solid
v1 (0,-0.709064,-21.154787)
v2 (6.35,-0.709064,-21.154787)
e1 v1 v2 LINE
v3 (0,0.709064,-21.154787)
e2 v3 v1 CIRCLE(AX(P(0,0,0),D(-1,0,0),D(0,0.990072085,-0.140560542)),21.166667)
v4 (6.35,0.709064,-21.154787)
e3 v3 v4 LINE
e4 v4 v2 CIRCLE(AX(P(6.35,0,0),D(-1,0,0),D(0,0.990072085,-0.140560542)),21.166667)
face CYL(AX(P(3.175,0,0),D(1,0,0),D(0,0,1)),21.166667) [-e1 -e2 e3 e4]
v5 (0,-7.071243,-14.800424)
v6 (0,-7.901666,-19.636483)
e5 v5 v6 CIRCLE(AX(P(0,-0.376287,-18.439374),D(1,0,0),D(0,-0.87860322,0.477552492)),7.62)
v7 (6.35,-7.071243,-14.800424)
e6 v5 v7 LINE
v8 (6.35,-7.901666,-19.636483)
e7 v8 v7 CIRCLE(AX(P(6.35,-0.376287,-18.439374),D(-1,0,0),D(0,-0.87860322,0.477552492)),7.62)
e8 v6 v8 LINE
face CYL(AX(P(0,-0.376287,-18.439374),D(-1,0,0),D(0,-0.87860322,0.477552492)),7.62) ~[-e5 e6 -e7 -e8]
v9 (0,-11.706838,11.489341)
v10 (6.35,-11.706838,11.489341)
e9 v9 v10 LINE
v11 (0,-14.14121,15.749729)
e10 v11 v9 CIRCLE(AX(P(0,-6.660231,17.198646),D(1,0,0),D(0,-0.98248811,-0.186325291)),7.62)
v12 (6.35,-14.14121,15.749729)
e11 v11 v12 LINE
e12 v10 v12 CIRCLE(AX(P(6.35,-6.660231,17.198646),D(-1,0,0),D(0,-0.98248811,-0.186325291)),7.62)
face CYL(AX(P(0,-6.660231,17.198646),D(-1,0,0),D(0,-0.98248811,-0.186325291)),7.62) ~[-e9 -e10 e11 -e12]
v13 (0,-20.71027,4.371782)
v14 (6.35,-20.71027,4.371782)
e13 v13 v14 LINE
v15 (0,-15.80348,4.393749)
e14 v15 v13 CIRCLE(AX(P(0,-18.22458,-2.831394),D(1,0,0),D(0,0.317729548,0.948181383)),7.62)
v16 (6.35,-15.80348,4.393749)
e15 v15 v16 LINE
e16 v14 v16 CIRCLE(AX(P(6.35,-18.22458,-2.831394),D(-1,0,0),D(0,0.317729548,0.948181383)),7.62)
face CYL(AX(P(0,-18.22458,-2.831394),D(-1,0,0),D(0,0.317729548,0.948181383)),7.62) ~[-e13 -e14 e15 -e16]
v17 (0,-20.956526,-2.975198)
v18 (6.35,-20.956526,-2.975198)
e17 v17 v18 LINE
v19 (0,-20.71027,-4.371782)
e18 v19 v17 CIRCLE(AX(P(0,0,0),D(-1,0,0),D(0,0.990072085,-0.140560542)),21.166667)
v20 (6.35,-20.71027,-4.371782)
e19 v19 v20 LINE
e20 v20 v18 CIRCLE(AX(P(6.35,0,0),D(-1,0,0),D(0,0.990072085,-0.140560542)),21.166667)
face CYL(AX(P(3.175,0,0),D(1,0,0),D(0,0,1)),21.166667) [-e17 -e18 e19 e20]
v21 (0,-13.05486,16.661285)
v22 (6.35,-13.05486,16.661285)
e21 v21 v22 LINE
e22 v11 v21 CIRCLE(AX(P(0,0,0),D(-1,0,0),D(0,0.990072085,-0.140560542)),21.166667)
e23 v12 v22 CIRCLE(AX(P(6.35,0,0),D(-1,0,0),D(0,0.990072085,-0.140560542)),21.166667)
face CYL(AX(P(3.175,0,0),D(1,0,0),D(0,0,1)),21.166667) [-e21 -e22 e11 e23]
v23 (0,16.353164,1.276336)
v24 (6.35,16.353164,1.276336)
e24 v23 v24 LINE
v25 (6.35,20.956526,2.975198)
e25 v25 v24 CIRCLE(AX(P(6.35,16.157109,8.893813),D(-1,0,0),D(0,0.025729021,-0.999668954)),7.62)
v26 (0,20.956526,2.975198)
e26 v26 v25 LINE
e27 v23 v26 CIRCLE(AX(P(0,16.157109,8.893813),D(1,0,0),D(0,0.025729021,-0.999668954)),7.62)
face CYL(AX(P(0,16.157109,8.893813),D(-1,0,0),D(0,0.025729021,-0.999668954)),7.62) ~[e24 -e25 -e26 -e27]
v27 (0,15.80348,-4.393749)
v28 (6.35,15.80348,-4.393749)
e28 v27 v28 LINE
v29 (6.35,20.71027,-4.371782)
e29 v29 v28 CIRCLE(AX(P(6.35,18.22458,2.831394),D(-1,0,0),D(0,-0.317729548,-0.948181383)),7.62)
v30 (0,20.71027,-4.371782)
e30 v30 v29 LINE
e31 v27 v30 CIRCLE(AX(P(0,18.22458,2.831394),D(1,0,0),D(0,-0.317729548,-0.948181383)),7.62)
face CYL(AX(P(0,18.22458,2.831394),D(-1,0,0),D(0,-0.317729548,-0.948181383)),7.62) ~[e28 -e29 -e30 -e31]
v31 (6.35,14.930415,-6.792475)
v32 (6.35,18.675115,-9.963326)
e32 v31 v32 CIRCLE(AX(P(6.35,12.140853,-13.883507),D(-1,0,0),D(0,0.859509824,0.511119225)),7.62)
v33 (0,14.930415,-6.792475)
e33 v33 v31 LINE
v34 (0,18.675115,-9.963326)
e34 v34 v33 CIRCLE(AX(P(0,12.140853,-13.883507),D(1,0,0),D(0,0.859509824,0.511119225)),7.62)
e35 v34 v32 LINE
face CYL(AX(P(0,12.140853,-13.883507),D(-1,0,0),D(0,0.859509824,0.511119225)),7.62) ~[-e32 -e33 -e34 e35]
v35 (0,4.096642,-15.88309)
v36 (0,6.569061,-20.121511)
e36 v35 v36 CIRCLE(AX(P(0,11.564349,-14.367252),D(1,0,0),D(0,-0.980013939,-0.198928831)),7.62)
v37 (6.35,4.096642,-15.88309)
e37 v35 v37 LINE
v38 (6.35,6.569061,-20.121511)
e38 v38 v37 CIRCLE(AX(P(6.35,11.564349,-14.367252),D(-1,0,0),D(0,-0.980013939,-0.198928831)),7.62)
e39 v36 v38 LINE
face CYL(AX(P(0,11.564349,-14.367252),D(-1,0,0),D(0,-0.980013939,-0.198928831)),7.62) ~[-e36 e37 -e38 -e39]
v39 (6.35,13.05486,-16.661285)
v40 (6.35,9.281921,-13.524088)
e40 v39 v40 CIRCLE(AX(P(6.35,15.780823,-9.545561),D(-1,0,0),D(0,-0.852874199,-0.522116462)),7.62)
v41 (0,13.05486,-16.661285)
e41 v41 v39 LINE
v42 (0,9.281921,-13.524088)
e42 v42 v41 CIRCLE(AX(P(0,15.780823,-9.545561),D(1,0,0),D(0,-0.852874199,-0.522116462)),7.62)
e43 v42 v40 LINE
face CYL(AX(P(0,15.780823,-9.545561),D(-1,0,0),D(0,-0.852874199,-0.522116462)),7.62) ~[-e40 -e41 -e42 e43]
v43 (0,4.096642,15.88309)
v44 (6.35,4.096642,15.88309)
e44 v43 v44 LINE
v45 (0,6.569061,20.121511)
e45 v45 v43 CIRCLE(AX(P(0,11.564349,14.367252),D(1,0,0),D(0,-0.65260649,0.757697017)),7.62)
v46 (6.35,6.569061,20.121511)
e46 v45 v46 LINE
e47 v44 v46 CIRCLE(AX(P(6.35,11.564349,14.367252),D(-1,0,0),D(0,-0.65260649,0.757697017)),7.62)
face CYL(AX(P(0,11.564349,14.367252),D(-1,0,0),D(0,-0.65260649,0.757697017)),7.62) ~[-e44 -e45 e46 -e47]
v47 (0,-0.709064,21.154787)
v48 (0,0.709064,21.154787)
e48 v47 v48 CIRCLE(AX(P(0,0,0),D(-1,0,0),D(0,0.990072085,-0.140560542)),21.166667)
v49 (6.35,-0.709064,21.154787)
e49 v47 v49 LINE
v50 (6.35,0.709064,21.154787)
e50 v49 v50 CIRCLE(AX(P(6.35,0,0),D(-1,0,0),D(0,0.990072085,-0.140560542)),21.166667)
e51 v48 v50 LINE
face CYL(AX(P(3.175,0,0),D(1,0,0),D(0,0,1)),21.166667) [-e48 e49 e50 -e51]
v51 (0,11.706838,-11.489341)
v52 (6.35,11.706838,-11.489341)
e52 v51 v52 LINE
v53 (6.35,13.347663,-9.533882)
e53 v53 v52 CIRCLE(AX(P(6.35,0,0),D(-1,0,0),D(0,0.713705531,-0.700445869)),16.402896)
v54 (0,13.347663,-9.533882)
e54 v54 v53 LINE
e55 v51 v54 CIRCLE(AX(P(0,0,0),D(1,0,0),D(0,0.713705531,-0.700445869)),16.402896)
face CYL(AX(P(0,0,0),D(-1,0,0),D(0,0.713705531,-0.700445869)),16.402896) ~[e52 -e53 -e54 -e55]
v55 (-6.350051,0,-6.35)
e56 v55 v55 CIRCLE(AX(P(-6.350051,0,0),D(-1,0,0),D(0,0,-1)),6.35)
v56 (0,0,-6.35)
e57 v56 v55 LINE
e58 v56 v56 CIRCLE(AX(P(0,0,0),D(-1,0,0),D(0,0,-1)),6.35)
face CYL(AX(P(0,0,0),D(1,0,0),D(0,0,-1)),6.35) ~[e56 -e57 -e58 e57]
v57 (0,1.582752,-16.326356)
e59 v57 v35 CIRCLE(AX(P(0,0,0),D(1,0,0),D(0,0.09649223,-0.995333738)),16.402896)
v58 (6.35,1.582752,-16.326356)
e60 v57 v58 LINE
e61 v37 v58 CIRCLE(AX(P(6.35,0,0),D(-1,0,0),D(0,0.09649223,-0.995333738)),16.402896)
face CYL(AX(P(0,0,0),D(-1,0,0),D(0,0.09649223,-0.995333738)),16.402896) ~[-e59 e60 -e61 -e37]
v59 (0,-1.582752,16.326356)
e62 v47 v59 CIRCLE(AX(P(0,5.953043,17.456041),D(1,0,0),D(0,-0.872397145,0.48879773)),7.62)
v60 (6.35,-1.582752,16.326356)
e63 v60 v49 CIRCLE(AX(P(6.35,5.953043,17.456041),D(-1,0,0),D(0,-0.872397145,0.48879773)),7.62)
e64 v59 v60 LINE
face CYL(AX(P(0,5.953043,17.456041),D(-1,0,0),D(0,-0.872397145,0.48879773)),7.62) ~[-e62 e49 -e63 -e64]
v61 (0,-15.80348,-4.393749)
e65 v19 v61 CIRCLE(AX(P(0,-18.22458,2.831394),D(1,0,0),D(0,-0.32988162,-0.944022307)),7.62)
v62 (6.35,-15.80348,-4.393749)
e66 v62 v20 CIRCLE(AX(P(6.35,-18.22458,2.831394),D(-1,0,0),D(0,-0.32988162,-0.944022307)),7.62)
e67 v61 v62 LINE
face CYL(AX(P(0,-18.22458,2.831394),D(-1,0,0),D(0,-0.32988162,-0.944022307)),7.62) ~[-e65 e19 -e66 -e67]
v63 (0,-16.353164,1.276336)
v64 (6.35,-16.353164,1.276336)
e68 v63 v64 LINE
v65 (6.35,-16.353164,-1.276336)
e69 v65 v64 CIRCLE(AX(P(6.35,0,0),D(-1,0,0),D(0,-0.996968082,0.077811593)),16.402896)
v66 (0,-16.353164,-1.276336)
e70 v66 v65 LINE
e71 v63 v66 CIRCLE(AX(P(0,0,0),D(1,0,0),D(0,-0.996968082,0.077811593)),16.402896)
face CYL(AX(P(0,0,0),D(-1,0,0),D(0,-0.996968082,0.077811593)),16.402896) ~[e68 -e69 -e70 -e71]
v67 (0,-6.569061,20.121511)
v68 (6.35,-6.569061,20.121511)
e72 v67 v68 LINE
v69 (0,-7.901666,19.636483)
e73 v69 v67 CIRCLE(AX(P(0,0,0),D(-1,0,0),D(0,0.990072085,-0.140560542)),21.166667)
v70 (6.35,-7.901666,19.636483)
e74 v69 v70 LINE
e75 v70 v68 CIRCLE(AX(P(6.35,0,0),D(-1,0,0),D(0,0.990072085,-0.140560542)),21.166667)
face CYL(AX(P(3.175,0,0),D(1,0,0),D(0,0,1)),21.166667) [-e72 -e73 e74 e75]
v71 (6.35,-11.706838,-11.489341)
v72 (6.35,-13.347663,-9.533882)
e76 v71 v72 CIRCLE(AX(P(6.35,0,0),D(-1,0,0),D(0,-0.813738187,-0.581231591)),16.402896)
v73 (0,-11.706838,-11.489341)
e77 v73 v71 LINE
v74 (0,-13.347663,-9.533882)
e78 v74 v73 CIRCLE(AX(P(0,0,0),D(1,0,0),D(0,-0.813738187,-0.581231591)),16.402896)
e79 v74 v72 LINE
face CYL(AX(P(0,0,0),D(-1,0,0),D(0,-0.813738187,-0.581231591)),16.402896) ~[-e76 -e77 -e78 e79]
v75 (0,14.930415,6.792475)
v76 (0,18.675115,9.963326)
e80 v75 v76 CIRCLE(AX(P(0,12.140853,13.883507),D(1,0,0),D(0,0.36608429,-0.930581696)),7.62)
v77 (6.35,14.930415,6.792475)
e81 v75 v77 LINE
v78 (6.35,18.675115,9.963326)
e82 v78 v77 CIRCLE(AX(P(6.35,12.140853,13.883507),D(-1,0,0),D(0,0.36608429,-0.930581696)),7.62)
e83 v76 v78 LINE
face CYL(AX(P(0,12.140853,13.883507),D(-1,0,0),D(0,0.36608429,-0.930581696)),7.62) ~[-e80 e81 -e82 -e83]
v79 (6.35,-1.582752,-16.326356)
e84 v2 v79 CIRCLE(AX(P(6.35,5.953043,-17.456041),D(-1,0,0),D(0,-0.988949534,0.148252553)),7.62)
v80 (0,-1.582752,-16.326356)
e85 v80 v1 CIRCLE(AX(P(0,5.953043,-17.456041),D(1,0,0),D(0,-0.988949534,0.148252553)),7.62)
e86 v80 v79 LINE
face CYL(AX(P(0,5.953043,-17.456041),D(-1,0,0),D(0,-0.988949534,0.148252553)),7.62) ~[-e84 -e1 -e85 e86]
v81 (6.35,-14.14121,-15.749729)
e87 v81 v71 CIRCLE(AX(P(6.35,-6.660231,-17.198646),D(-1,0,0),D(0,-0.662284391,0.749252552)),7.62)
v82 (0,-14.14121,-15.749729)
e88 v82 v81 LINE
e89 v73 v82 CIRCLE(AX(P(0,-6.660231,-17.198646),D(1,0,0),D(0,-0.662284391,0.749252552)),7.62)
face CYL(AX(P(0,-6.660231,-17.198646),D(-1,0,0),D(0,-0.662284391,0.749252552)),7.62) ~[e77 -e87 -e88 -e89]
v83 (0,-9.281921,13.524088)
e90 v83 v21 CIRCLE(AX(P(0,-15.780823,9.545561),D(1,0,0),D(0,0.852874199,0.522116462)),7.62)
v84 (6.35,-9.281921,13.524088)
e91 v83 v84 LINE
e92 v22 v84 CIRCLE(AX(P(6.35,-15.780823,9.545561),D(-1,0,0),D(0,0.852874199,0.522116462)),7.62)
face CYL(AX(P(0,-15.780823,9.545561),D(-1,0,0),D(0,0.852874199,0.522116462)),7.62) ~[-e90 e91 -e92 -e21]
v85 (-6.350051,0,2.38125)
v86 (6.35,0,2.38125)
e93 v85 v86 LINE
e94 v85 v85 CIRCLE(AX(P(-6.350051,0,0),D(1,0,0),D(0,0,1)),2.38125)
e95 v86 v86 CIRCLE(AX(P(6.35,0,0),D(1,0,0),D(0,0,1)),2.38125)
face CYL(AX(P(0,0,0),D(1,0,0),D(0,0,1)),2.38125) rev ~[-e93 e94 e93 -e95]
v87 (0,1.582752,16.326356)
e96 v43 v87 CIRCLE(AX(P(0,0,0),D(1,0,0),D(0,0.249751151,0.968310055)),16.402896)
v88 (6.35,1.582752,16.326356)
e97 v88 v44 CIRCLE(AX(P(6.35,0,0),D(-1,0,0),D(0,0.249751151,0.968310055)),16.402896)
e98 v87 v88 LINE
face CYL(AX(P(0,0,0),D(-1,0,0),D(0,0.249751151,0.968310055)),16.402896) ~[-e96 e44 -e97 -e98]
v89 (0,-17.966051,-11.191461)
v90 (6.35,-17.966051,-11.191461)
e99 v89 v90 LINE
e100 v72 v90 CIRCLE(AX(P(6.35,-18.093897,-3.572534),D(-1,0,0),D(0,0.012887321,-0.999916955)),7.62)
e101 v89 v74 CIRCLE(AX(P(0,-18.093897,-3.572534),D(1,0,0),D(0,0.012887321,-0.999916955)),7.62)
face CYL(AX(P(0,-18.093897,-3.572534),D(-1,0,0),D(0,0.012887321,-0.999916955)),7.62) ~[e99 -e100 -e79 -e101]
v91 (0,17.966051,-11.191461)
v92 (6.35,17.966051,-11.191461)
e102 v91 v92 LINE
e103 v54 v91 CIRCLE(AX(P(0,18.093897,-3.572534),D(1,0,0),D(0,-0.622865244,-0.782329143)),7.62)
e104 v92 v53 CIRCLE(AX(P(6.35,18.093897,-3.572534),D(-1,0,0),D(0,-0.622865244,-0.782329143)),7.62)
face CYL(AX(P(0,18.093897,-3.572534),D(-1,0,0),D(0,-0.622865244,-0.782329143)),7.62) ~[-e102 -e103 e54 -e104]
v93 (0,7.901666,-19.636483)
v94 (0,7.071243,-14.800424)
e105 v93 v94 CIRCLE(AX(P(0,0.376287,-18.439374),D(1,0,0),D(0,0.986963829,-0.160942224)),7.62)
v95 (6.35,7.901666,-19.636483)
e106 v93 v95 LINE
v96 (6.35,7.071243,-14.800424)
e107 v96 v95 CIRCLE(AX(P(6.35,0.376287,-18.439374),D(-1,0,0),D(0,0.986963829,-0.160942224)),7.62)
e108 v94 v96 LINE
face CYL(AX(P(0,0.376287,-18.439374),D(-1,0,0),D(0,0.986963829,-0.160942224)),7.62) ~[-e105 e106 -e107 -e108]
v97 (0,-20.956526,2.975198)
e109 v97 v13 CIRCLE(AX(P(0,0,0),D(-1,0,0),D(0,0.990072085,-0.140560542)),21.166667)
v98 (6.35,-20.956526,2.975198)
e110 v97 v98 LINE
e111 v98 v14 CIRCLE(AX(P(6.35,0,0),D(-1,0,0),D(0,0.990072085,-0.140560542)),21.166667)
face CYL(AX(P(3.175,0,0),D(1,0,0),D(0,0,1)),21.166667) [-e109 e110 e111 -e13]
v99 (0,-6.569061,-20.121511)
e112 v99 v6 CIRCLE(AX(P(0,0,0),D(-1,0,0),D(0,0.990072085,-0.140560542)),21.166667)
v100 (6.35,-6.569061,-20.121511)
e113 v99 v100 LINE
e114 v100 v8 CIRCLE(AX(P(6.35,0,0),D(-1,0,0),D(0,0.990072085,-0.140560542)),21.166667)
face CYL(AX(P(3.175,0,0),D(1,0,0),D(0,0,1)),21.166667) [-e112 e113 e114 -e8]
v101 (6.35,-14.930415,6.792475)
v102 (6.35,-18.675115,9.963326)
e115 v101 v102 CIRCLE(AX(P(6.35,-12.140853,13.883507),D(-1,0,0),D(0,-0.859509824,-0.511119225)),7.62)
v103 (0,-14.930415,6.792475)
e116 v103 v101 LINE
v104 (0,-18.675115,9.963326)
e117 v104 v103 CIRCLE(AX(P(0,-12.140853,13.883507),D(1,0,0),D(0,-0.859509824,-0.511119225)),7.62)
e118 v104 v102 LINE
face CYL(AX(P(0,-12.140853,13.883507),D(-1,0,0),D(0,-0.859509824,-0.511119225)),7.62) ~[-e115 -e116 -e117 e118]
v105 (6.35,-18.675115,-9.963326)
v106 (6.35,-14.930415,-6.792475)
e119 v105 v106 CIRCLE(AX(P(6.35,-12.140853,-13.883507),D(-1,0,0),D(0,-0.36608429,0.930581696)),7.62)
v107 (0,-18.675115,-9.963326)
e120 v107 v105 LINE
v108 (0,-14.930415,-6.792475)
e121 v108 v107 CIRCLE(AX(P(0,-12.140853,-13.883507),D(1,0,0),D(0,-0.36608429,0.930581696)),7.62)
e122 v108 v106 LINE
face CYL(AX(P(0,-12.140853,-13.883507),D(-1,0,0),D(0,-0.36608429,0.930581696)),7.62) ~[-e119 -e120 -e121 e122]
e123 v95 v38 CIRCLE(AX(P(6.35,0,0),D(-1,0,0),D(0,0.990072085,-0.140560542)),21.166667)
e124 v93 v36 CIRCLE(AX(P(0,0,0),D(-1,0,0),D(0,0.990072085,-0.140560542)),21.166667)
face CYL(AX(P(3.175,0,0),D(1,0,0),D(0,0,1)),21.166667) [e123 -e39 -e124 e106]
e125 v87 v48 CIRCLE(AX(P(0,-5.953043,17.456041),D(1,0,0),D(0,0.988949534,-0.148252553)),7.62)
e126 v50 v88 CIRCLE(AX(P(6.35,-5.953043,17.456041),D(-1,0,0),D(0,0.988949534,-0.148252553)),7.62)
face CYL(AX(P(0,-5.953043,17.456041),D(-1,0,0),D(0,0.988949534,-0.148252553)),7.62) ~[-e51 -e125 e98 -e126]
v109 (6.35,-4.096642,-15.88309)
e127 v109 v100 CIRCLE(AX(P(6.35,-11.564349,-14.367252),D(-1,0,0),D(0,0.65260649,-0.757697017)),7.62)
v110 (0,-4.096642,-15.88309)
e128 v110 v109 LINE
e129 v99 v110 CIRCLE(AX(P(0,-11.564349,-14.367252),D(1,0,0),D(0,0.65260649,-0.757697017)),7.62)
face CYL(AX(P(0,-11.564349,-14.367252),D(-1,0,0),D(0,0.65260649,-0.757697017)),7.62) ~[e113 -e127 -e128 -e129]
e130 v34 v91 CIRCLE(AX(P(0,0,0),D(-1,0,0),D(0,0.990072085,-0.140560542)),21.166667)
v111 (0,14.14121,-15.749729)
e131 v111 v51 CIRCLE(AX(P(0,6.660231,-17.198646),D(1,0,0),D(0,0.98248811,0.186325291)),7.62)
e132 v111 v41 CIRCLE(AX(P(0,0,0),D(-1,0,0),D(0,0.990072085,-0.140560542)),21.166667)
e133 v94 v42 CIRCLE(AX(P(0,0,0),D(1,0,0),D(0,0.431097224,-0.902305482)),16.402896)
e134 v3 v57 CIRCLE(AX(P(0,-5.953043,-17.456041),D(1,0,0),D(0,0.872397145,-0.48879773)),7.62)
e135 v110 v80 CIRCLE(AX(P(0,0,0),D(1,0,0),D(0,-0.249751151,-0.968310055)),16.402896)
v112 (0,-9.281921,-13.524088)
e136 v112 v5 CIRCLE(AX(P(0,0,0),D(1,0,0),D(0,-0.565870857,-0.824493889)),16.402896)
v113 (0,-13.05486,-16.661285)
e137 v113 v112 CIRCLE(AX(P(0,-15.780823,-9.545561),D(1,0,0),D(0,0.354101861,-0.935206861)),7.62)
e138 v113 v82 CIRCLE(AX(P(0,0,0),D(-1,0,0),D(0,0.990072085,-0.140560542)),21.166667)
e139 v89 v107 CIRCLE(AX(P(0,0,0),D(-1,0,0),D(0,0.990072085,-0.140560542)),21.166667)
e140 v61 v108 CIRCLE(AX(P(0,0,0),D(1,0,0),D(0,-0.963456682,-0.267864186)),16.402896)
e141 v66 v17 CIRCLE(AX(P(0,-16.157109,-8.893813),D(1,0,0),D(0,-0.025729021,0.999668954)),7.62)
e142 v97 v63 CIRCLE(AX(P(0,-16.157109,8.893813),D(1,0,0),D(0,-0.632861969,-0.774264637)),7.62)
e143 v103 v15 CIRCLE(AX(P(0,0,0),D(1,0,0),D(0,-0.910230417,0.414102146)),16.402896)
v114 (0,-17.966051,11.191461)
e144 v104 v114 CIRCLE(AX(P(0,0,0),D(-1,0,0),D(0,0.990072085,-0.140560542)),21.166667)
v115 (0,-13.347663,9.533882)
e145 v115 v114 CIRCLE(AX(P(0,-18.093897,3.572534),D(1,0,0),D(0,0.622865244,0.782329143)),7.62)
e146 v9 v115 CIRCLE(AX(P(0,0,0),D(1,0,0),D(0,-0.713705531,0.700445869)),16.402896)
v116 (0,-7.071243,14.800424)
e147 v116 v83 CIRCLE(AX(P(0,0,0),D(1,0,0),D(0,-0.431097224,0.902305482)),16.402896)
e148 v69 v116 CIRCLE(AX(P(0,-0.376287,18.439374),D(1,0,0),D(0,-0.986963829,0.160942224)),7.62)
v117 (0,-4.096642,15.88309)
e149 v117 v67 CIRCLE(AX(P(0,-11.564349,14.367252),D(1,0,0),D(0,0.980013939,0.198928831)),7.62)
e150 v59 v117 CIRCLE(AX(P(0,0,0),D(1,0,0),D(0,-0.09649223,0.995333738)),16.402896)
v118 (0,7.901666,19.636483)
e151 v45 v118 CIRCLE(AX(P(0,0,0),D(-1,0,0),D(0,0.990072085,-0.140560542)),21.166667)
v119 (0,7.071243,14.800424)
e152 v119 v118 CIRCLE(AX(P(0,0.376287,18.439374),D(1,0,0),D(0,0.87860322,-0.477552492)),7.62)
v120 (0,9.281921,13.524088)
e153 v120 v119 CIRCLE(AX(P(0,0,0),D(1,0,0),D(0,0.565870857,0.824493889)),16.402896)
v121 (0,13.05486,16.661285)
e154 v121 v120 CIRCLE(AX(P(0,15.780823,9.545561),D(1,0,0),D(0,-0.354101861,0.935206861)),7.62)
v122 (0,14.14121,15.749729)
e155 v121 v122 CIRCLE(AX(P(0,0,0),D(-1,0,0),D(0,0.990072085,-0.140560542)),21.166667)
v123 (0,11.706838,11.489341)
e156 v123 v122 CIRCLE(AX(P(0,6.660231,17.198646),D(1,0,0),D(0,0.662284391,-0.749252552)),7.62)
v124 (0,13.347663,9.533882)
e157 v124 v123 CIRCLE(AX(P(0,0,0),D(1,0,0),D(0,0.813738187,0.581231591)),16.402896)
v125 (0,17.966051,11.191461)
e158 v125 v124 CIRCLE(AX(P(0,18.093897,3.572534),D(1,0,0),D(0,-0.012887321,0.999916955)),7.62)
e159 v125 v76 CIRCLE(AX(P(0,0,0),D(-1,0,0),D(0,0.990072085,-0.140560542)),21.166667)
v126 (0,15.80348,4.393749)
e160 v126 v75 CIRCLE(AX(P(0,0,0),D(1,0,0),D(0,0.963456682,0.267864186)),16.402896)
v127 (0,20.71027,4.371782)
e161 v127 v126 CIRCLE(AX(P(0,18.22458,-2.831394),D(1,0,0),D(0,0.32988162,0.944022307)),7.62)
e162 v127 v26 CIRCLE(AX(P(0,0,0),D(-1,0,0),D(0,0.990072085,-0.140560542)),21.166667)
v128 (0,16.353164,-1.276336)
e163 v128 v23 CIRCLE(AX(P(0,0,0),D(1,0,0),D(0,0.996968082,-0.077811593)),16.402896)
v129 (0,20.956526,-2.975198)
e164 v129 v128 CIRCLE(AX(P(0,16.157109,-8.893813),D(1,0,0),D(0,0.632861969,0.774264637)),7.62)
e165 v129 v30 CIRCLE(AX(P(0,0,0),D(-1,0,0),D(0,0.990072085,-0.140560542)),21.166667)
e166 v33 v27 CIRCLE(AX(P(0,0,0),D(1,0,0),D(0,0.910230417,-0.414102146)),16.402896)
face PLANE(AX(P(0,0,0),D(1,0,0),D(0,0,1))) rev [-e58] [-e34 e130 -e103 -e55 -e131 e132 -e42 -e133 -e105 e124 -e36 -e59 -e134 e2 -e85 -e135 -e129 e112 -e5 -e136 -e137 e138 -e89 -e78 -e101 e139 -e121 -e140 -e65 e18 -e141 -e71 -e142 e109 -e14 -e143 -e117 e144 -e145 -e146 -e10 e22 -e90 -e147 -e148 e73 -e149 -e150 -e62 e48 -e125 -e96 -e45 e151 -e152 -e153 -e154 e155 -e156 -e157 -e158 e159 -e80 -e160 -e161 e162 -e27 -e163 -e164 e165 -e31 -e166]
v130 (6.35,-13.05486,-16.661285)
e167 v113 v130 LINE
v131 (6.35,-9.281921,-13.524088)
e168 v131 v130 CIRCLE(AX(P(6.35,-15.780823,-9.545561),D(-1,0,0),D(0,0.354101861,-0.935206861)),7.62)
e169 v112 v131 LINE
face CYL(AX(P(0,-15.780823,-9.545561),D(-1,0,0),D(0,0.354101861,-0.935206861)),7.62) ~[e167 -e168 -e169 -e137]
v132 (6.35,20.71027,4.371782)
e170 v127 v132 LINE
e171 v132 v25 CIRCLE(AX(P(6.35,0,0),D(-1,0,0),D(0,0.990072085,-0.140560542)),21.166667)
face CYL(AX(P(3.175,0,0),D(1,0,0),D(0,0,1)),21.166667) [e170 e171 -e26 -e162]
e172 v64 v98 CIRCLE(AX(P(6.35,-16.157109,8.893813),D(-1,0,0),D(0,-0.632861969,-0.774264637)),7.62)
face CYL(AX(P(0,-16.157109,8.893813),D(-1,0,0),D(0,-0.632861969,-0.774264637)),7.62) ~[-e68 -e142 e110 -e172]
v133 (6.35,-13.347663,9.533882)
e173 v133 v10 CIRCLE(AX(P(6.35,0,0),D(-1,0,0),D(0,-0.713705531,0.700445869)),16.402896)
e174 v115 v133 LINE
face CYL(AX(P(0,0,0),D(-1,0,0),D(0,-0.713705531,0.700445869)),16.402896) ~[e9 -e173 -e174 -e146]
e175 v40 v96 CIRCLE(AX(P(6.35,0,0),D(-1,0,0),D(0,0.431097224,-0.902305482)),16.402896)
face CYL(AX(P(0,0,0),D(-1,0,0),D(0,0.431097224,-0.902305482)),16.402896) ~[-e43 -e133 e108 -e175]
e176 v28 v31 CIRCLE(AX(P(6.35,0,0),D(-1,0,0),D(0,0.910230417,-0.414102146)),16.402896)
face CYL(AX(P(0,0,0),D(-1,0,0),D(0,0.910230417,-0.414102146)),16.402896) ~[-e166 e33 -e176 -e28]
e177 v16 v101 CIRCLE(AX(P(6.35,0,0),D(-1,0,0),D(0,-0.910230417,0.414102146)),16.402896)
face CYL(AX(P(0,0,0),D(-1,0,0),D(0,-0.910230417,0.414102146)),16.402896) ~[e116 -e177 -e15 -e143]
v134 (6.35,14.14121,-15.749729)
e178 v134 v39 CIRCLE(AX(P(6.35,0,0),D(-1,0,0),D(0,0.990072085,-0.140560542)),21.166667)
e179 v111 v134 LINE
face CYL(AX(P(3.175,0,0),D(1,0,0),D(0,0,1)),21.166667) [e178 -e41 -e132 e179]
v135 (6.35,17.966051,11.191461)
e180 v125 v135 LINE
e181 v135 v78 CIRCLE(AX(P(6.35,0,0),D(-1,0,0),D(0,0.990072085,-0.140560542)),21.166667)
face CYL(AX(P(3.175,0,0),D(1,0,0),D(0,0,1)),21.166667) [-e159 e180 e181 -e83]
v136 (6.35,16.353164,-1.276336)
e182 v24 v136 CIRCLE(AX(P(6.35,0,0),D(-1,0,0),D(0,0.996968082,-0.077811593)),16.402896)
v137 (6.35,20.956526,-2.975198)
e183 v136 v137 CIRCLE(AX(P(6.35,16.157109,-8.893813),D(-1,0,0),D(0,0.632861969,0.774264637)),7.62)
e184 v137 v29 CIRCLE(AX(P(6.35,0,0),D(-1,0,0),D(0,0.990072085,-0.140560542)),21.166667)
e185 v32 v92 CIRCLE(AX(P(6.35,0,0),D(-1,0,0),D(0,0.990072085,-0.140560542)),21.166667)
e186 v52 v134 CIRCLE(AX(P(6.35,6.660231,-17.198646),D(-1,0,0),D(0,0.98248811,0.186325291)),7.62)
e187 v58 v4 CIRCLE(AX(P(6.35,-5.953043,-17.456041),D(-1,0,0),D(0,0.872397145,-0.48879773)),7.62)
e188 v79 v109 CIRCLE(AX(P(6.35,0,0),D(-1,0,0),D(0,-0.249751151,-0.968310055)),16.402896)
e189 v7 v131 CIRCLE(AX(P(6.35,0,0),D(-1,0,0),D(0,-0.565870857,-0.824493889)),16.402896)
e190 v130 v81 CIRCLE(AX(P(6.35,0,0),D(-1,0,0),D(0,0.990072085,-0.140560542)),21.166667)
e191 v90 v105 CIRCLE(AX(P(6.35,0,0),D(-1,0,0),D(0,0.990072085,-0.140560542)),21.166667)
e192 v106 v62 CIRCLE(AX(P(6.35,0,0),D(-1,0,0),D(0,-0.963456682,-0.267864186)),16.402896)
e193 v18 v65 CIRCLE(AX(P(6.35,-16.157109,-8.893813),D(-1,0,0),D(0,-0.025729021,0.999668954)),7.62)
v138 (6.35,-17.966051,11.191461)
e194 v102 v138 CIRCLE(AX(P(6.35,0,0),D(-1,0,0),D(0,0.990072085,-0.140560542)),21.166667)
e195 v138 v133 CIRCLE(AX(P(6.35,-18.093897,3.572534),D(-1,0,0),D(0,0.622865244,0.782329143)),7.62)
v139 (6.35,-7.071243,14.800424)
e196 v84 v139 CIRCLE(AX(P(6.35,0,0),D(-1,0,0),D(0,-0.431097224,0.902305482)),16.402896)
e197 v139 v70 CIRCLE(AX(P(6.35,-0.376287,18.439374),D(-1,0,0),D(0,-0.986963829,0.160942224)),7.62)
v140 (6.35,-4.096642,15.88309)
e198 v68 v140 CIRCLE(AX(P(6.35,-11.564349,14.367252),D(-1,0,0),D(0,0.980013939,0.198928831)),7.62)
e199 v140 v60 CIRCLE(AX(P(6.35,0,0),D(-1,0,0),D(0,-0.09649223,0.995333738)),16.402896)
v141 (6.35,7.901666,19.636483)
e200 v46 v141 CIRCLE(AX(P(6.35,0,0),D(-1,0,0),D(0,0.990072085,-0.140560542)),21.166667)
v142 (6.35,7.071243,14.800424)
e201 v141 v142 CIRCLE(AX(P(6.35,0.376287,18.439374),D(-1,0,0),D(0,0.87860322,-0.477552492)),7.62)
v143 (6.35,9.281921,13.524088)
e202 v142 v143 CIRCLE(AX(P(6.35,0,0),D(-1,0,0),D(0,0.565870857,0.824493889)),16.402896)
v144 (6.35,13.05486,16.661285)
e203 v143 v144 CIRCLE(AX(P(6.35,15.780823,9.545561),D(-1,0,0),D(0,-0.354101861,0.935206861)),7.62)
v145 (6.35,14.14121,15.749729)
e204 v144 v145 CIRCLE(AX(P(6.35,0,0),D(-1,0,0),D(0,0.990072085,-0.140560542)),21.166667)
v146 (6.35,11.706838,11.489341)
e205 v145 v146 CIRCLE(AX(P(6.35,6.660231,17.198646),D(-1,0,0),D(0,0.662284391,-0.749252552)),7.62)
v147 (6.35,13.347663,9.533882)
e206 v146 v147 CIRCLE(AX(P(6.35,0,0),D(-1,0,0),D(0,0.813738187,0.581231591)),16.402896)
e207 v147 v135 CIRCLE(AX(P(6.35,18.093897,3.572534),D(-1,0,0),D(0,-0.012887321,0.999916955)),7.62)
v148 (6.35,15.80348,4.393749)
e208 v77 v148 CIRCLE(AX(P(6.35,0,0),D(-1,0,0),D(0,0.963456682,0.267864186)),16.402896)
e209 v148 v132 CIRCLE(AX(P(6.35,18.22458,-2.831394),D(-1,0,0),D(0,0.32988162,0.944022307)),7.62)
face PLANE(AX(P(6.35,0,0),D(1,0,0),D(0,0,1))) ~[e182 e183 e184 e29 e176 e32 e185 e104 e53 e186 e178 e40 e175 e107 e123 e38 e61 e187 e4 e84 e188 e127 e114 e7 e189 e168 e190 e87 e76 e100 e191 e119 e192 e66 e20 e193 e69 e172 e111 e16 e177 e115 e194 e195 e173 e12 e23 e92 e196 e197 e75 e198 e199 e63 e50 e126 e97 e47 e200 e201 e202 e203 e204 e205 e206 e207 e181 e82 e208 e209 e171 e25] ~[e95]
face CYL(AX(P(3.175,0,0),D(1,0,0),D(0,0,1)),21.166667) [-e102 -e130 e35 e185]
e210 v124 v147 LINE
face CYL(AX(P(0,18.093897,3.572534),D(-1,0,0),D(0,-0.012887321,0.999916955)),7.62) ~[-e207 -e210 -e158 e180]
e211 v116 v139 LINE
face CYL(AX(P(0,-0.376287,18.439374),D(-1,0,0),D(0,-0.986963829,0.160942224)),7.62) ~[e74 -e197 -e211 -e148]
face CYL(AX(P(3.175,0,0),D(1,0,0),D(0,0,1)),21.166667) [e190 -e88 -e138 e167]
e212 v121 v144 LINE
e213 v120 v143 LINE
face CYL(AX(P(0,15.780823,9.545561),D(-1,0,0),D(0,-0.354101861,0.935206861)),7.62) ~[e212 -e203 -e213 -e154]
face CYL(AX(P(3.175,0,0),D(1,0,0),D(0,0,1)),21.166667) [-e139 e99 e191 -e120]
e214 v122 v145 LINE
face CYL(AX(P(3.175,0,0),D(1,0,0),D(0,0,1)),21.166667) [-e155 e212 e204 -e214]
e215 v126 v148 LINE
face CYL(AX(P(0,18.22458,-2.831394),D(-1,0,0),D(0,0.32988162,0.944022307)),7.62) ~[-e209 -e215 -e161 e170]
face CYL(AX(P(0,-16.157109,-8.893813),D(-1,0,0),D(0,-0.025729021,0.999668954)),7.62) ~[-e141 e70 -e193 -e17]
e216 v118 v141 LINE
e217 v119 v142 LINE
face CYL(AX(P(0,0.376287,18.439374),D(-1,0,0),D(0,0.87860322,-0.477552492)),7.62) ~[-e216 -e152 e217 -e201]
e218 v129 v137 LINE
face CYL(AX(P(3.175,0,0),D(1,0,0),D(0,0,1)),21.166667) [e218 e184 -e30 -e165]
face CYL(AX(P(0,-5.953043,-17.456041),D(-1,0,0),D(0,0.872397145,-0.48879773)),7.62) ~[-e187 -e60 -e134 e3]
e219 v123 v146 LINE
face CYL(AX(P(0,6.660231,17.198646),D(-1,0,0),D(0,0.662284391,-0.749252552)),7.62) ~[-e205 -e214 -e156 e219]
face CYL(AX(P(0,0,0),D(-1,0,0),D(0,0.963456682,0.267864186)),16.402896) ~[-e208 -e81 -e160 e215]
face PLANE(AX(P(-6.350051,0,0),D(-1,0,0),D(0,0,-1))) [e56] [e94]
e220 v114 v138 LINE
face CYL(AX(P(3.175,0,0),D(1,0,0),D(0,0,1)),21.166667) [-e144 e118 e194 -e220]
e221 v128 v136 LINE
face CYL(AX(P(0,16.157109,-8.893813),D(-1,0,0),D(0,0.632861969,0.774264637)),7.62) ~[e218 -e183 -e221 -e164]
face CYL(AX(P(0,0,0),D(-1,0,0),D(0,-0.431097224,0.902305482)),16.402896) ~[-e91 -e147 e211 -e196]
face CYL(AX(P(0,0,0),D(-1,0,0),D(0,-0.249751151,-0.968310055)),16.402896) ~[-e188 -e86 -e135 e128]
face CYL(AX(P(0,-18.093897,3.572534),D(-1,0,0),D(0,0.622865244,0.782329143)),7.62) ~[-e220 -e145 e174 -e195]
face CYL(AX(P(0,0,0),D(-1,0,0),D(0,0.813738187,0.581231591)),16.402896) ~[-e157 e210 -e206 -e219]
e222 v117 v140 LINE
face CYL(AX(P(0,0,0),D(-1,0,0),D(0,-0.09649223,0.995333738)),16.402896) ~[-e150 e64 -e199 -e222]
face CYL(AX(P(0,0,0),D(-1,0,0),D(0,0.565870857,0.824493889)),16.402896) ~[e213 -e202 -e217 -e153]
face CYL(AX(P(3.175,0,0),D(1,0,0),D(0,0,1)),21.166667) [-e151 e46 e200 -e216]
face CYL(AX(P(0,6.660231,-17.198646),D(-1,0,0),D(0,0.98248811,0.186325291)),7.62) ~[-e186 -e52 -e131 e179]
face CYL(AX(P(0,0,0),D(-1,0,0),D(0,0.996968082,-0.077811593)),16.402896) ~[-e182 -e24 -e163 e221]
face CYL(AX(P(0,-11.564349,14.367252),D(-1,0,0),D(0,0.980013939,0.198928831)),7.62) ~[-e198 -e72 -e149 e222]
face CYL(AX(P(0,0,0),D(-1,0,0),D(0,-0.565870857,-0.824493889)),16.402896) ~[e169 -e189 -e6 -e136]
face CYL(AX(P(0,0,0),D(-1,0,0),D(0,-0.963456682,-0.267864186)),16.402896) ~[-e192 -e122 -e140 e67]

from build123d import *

# Parameters (mm, degrees)
BASPROSKE_W      = 6.35
BASPROSKE_H      = 21.166666667
TOOTHCUT_DEPTH   = 31.600295024
TEETHCUTS_COUNT  = 18
TEETHCUTS_ANGLE  = 340
HUBNEAONESKE_R   = 6.35
HUBNEARONE_DEPTH = 6.3500508
BORSKE_R         = 2.38125
BORE_DEPTH       = 12.7000508


with BuildPart() as part:
    # BasProSke → Base-Revolve (revolve)
    with BuildSketch(Plane(origin=(0, 0, 0), x_dir=(1, 0, 0), z_dir=(0, 1, 0)), mode=Mode.PRIVATE) as base_revolve_sk:
        with Locations((3.175, 10.583333334)):
            Rectangle(BASPROSKE_W, BASPROSKE_H)
    revolve(base_revolve_sk.sketch.rotate(Axis((-10, 0, 0), (1, 0, 0)), 180), axis=Axis((-10, 0, 0), (1, 0, 0)))

    # TooCutSke → ToothCut (cut, through all)
    with BuildSketch(Plane(origin=(0, 0, 0), x_dir=(0, 0, -1), z_dir=(1, 0, 0))):
        with BuildLine():
            ThreePointArc((1.276335511, 16.353164425), (0, 16.402896667), (-1.276335511, 16.353164425))
            ThreePointArc((-1.276335511, 16.353164425), (-1.750239927, 18.809233834), (-2.993916405, 20.979517491))
            ThreePointArc((-2.993916405, 20.979517491), (0, 21.192066667), (2.993916405, 20.979517491))
            ThreePointArc((2.993916405, 20.979517491), (1.750239927, 18.809233834), (1.276335511, 16.353164425))
        make_face()
    toothcut = extrude(amount=TOOTHCUT_DEPTH, mode=Mode.SUBTRACT)

    # TeethCuts: ToothCut ×18 about axis
    teethcuts_axis = Axis((-10, 0, 0), (1, 0, 0))
    for i in range(1, TEETHCUTS_COUNT):
        add(toothcut.rotate(teethcuts_axis, i * TEETHCUTS_ANGLE / (TEETHCUTS_COUNT - 1)), mode=Mode.SUBTRACT)

    # HubNeaOneSke → HubNearOne (add)
    with BuildSketch(Plane.ZY):
        with Locations(Location((0, 0, 0), (0, 0, 180))):
            Circle(HUBNEAONESKE_R)
    extrude(amount=HUBNEARONE_DEPTH)

    # BorSke → Bore (cut, symmetric)
    with BuildSketch(Plane(origin=(0, 0, 0), x_dir=(0, 0, -1), z_dir=(1, 0, 0))):
        with Locations(Location((0, 0, 0), (0, 0, 180))):
            Circle(BORSKE_R)
    extrude(amount=BORE_DEPTH, both=True, mode=Mode.SUBTRACT)


solid = part.part
